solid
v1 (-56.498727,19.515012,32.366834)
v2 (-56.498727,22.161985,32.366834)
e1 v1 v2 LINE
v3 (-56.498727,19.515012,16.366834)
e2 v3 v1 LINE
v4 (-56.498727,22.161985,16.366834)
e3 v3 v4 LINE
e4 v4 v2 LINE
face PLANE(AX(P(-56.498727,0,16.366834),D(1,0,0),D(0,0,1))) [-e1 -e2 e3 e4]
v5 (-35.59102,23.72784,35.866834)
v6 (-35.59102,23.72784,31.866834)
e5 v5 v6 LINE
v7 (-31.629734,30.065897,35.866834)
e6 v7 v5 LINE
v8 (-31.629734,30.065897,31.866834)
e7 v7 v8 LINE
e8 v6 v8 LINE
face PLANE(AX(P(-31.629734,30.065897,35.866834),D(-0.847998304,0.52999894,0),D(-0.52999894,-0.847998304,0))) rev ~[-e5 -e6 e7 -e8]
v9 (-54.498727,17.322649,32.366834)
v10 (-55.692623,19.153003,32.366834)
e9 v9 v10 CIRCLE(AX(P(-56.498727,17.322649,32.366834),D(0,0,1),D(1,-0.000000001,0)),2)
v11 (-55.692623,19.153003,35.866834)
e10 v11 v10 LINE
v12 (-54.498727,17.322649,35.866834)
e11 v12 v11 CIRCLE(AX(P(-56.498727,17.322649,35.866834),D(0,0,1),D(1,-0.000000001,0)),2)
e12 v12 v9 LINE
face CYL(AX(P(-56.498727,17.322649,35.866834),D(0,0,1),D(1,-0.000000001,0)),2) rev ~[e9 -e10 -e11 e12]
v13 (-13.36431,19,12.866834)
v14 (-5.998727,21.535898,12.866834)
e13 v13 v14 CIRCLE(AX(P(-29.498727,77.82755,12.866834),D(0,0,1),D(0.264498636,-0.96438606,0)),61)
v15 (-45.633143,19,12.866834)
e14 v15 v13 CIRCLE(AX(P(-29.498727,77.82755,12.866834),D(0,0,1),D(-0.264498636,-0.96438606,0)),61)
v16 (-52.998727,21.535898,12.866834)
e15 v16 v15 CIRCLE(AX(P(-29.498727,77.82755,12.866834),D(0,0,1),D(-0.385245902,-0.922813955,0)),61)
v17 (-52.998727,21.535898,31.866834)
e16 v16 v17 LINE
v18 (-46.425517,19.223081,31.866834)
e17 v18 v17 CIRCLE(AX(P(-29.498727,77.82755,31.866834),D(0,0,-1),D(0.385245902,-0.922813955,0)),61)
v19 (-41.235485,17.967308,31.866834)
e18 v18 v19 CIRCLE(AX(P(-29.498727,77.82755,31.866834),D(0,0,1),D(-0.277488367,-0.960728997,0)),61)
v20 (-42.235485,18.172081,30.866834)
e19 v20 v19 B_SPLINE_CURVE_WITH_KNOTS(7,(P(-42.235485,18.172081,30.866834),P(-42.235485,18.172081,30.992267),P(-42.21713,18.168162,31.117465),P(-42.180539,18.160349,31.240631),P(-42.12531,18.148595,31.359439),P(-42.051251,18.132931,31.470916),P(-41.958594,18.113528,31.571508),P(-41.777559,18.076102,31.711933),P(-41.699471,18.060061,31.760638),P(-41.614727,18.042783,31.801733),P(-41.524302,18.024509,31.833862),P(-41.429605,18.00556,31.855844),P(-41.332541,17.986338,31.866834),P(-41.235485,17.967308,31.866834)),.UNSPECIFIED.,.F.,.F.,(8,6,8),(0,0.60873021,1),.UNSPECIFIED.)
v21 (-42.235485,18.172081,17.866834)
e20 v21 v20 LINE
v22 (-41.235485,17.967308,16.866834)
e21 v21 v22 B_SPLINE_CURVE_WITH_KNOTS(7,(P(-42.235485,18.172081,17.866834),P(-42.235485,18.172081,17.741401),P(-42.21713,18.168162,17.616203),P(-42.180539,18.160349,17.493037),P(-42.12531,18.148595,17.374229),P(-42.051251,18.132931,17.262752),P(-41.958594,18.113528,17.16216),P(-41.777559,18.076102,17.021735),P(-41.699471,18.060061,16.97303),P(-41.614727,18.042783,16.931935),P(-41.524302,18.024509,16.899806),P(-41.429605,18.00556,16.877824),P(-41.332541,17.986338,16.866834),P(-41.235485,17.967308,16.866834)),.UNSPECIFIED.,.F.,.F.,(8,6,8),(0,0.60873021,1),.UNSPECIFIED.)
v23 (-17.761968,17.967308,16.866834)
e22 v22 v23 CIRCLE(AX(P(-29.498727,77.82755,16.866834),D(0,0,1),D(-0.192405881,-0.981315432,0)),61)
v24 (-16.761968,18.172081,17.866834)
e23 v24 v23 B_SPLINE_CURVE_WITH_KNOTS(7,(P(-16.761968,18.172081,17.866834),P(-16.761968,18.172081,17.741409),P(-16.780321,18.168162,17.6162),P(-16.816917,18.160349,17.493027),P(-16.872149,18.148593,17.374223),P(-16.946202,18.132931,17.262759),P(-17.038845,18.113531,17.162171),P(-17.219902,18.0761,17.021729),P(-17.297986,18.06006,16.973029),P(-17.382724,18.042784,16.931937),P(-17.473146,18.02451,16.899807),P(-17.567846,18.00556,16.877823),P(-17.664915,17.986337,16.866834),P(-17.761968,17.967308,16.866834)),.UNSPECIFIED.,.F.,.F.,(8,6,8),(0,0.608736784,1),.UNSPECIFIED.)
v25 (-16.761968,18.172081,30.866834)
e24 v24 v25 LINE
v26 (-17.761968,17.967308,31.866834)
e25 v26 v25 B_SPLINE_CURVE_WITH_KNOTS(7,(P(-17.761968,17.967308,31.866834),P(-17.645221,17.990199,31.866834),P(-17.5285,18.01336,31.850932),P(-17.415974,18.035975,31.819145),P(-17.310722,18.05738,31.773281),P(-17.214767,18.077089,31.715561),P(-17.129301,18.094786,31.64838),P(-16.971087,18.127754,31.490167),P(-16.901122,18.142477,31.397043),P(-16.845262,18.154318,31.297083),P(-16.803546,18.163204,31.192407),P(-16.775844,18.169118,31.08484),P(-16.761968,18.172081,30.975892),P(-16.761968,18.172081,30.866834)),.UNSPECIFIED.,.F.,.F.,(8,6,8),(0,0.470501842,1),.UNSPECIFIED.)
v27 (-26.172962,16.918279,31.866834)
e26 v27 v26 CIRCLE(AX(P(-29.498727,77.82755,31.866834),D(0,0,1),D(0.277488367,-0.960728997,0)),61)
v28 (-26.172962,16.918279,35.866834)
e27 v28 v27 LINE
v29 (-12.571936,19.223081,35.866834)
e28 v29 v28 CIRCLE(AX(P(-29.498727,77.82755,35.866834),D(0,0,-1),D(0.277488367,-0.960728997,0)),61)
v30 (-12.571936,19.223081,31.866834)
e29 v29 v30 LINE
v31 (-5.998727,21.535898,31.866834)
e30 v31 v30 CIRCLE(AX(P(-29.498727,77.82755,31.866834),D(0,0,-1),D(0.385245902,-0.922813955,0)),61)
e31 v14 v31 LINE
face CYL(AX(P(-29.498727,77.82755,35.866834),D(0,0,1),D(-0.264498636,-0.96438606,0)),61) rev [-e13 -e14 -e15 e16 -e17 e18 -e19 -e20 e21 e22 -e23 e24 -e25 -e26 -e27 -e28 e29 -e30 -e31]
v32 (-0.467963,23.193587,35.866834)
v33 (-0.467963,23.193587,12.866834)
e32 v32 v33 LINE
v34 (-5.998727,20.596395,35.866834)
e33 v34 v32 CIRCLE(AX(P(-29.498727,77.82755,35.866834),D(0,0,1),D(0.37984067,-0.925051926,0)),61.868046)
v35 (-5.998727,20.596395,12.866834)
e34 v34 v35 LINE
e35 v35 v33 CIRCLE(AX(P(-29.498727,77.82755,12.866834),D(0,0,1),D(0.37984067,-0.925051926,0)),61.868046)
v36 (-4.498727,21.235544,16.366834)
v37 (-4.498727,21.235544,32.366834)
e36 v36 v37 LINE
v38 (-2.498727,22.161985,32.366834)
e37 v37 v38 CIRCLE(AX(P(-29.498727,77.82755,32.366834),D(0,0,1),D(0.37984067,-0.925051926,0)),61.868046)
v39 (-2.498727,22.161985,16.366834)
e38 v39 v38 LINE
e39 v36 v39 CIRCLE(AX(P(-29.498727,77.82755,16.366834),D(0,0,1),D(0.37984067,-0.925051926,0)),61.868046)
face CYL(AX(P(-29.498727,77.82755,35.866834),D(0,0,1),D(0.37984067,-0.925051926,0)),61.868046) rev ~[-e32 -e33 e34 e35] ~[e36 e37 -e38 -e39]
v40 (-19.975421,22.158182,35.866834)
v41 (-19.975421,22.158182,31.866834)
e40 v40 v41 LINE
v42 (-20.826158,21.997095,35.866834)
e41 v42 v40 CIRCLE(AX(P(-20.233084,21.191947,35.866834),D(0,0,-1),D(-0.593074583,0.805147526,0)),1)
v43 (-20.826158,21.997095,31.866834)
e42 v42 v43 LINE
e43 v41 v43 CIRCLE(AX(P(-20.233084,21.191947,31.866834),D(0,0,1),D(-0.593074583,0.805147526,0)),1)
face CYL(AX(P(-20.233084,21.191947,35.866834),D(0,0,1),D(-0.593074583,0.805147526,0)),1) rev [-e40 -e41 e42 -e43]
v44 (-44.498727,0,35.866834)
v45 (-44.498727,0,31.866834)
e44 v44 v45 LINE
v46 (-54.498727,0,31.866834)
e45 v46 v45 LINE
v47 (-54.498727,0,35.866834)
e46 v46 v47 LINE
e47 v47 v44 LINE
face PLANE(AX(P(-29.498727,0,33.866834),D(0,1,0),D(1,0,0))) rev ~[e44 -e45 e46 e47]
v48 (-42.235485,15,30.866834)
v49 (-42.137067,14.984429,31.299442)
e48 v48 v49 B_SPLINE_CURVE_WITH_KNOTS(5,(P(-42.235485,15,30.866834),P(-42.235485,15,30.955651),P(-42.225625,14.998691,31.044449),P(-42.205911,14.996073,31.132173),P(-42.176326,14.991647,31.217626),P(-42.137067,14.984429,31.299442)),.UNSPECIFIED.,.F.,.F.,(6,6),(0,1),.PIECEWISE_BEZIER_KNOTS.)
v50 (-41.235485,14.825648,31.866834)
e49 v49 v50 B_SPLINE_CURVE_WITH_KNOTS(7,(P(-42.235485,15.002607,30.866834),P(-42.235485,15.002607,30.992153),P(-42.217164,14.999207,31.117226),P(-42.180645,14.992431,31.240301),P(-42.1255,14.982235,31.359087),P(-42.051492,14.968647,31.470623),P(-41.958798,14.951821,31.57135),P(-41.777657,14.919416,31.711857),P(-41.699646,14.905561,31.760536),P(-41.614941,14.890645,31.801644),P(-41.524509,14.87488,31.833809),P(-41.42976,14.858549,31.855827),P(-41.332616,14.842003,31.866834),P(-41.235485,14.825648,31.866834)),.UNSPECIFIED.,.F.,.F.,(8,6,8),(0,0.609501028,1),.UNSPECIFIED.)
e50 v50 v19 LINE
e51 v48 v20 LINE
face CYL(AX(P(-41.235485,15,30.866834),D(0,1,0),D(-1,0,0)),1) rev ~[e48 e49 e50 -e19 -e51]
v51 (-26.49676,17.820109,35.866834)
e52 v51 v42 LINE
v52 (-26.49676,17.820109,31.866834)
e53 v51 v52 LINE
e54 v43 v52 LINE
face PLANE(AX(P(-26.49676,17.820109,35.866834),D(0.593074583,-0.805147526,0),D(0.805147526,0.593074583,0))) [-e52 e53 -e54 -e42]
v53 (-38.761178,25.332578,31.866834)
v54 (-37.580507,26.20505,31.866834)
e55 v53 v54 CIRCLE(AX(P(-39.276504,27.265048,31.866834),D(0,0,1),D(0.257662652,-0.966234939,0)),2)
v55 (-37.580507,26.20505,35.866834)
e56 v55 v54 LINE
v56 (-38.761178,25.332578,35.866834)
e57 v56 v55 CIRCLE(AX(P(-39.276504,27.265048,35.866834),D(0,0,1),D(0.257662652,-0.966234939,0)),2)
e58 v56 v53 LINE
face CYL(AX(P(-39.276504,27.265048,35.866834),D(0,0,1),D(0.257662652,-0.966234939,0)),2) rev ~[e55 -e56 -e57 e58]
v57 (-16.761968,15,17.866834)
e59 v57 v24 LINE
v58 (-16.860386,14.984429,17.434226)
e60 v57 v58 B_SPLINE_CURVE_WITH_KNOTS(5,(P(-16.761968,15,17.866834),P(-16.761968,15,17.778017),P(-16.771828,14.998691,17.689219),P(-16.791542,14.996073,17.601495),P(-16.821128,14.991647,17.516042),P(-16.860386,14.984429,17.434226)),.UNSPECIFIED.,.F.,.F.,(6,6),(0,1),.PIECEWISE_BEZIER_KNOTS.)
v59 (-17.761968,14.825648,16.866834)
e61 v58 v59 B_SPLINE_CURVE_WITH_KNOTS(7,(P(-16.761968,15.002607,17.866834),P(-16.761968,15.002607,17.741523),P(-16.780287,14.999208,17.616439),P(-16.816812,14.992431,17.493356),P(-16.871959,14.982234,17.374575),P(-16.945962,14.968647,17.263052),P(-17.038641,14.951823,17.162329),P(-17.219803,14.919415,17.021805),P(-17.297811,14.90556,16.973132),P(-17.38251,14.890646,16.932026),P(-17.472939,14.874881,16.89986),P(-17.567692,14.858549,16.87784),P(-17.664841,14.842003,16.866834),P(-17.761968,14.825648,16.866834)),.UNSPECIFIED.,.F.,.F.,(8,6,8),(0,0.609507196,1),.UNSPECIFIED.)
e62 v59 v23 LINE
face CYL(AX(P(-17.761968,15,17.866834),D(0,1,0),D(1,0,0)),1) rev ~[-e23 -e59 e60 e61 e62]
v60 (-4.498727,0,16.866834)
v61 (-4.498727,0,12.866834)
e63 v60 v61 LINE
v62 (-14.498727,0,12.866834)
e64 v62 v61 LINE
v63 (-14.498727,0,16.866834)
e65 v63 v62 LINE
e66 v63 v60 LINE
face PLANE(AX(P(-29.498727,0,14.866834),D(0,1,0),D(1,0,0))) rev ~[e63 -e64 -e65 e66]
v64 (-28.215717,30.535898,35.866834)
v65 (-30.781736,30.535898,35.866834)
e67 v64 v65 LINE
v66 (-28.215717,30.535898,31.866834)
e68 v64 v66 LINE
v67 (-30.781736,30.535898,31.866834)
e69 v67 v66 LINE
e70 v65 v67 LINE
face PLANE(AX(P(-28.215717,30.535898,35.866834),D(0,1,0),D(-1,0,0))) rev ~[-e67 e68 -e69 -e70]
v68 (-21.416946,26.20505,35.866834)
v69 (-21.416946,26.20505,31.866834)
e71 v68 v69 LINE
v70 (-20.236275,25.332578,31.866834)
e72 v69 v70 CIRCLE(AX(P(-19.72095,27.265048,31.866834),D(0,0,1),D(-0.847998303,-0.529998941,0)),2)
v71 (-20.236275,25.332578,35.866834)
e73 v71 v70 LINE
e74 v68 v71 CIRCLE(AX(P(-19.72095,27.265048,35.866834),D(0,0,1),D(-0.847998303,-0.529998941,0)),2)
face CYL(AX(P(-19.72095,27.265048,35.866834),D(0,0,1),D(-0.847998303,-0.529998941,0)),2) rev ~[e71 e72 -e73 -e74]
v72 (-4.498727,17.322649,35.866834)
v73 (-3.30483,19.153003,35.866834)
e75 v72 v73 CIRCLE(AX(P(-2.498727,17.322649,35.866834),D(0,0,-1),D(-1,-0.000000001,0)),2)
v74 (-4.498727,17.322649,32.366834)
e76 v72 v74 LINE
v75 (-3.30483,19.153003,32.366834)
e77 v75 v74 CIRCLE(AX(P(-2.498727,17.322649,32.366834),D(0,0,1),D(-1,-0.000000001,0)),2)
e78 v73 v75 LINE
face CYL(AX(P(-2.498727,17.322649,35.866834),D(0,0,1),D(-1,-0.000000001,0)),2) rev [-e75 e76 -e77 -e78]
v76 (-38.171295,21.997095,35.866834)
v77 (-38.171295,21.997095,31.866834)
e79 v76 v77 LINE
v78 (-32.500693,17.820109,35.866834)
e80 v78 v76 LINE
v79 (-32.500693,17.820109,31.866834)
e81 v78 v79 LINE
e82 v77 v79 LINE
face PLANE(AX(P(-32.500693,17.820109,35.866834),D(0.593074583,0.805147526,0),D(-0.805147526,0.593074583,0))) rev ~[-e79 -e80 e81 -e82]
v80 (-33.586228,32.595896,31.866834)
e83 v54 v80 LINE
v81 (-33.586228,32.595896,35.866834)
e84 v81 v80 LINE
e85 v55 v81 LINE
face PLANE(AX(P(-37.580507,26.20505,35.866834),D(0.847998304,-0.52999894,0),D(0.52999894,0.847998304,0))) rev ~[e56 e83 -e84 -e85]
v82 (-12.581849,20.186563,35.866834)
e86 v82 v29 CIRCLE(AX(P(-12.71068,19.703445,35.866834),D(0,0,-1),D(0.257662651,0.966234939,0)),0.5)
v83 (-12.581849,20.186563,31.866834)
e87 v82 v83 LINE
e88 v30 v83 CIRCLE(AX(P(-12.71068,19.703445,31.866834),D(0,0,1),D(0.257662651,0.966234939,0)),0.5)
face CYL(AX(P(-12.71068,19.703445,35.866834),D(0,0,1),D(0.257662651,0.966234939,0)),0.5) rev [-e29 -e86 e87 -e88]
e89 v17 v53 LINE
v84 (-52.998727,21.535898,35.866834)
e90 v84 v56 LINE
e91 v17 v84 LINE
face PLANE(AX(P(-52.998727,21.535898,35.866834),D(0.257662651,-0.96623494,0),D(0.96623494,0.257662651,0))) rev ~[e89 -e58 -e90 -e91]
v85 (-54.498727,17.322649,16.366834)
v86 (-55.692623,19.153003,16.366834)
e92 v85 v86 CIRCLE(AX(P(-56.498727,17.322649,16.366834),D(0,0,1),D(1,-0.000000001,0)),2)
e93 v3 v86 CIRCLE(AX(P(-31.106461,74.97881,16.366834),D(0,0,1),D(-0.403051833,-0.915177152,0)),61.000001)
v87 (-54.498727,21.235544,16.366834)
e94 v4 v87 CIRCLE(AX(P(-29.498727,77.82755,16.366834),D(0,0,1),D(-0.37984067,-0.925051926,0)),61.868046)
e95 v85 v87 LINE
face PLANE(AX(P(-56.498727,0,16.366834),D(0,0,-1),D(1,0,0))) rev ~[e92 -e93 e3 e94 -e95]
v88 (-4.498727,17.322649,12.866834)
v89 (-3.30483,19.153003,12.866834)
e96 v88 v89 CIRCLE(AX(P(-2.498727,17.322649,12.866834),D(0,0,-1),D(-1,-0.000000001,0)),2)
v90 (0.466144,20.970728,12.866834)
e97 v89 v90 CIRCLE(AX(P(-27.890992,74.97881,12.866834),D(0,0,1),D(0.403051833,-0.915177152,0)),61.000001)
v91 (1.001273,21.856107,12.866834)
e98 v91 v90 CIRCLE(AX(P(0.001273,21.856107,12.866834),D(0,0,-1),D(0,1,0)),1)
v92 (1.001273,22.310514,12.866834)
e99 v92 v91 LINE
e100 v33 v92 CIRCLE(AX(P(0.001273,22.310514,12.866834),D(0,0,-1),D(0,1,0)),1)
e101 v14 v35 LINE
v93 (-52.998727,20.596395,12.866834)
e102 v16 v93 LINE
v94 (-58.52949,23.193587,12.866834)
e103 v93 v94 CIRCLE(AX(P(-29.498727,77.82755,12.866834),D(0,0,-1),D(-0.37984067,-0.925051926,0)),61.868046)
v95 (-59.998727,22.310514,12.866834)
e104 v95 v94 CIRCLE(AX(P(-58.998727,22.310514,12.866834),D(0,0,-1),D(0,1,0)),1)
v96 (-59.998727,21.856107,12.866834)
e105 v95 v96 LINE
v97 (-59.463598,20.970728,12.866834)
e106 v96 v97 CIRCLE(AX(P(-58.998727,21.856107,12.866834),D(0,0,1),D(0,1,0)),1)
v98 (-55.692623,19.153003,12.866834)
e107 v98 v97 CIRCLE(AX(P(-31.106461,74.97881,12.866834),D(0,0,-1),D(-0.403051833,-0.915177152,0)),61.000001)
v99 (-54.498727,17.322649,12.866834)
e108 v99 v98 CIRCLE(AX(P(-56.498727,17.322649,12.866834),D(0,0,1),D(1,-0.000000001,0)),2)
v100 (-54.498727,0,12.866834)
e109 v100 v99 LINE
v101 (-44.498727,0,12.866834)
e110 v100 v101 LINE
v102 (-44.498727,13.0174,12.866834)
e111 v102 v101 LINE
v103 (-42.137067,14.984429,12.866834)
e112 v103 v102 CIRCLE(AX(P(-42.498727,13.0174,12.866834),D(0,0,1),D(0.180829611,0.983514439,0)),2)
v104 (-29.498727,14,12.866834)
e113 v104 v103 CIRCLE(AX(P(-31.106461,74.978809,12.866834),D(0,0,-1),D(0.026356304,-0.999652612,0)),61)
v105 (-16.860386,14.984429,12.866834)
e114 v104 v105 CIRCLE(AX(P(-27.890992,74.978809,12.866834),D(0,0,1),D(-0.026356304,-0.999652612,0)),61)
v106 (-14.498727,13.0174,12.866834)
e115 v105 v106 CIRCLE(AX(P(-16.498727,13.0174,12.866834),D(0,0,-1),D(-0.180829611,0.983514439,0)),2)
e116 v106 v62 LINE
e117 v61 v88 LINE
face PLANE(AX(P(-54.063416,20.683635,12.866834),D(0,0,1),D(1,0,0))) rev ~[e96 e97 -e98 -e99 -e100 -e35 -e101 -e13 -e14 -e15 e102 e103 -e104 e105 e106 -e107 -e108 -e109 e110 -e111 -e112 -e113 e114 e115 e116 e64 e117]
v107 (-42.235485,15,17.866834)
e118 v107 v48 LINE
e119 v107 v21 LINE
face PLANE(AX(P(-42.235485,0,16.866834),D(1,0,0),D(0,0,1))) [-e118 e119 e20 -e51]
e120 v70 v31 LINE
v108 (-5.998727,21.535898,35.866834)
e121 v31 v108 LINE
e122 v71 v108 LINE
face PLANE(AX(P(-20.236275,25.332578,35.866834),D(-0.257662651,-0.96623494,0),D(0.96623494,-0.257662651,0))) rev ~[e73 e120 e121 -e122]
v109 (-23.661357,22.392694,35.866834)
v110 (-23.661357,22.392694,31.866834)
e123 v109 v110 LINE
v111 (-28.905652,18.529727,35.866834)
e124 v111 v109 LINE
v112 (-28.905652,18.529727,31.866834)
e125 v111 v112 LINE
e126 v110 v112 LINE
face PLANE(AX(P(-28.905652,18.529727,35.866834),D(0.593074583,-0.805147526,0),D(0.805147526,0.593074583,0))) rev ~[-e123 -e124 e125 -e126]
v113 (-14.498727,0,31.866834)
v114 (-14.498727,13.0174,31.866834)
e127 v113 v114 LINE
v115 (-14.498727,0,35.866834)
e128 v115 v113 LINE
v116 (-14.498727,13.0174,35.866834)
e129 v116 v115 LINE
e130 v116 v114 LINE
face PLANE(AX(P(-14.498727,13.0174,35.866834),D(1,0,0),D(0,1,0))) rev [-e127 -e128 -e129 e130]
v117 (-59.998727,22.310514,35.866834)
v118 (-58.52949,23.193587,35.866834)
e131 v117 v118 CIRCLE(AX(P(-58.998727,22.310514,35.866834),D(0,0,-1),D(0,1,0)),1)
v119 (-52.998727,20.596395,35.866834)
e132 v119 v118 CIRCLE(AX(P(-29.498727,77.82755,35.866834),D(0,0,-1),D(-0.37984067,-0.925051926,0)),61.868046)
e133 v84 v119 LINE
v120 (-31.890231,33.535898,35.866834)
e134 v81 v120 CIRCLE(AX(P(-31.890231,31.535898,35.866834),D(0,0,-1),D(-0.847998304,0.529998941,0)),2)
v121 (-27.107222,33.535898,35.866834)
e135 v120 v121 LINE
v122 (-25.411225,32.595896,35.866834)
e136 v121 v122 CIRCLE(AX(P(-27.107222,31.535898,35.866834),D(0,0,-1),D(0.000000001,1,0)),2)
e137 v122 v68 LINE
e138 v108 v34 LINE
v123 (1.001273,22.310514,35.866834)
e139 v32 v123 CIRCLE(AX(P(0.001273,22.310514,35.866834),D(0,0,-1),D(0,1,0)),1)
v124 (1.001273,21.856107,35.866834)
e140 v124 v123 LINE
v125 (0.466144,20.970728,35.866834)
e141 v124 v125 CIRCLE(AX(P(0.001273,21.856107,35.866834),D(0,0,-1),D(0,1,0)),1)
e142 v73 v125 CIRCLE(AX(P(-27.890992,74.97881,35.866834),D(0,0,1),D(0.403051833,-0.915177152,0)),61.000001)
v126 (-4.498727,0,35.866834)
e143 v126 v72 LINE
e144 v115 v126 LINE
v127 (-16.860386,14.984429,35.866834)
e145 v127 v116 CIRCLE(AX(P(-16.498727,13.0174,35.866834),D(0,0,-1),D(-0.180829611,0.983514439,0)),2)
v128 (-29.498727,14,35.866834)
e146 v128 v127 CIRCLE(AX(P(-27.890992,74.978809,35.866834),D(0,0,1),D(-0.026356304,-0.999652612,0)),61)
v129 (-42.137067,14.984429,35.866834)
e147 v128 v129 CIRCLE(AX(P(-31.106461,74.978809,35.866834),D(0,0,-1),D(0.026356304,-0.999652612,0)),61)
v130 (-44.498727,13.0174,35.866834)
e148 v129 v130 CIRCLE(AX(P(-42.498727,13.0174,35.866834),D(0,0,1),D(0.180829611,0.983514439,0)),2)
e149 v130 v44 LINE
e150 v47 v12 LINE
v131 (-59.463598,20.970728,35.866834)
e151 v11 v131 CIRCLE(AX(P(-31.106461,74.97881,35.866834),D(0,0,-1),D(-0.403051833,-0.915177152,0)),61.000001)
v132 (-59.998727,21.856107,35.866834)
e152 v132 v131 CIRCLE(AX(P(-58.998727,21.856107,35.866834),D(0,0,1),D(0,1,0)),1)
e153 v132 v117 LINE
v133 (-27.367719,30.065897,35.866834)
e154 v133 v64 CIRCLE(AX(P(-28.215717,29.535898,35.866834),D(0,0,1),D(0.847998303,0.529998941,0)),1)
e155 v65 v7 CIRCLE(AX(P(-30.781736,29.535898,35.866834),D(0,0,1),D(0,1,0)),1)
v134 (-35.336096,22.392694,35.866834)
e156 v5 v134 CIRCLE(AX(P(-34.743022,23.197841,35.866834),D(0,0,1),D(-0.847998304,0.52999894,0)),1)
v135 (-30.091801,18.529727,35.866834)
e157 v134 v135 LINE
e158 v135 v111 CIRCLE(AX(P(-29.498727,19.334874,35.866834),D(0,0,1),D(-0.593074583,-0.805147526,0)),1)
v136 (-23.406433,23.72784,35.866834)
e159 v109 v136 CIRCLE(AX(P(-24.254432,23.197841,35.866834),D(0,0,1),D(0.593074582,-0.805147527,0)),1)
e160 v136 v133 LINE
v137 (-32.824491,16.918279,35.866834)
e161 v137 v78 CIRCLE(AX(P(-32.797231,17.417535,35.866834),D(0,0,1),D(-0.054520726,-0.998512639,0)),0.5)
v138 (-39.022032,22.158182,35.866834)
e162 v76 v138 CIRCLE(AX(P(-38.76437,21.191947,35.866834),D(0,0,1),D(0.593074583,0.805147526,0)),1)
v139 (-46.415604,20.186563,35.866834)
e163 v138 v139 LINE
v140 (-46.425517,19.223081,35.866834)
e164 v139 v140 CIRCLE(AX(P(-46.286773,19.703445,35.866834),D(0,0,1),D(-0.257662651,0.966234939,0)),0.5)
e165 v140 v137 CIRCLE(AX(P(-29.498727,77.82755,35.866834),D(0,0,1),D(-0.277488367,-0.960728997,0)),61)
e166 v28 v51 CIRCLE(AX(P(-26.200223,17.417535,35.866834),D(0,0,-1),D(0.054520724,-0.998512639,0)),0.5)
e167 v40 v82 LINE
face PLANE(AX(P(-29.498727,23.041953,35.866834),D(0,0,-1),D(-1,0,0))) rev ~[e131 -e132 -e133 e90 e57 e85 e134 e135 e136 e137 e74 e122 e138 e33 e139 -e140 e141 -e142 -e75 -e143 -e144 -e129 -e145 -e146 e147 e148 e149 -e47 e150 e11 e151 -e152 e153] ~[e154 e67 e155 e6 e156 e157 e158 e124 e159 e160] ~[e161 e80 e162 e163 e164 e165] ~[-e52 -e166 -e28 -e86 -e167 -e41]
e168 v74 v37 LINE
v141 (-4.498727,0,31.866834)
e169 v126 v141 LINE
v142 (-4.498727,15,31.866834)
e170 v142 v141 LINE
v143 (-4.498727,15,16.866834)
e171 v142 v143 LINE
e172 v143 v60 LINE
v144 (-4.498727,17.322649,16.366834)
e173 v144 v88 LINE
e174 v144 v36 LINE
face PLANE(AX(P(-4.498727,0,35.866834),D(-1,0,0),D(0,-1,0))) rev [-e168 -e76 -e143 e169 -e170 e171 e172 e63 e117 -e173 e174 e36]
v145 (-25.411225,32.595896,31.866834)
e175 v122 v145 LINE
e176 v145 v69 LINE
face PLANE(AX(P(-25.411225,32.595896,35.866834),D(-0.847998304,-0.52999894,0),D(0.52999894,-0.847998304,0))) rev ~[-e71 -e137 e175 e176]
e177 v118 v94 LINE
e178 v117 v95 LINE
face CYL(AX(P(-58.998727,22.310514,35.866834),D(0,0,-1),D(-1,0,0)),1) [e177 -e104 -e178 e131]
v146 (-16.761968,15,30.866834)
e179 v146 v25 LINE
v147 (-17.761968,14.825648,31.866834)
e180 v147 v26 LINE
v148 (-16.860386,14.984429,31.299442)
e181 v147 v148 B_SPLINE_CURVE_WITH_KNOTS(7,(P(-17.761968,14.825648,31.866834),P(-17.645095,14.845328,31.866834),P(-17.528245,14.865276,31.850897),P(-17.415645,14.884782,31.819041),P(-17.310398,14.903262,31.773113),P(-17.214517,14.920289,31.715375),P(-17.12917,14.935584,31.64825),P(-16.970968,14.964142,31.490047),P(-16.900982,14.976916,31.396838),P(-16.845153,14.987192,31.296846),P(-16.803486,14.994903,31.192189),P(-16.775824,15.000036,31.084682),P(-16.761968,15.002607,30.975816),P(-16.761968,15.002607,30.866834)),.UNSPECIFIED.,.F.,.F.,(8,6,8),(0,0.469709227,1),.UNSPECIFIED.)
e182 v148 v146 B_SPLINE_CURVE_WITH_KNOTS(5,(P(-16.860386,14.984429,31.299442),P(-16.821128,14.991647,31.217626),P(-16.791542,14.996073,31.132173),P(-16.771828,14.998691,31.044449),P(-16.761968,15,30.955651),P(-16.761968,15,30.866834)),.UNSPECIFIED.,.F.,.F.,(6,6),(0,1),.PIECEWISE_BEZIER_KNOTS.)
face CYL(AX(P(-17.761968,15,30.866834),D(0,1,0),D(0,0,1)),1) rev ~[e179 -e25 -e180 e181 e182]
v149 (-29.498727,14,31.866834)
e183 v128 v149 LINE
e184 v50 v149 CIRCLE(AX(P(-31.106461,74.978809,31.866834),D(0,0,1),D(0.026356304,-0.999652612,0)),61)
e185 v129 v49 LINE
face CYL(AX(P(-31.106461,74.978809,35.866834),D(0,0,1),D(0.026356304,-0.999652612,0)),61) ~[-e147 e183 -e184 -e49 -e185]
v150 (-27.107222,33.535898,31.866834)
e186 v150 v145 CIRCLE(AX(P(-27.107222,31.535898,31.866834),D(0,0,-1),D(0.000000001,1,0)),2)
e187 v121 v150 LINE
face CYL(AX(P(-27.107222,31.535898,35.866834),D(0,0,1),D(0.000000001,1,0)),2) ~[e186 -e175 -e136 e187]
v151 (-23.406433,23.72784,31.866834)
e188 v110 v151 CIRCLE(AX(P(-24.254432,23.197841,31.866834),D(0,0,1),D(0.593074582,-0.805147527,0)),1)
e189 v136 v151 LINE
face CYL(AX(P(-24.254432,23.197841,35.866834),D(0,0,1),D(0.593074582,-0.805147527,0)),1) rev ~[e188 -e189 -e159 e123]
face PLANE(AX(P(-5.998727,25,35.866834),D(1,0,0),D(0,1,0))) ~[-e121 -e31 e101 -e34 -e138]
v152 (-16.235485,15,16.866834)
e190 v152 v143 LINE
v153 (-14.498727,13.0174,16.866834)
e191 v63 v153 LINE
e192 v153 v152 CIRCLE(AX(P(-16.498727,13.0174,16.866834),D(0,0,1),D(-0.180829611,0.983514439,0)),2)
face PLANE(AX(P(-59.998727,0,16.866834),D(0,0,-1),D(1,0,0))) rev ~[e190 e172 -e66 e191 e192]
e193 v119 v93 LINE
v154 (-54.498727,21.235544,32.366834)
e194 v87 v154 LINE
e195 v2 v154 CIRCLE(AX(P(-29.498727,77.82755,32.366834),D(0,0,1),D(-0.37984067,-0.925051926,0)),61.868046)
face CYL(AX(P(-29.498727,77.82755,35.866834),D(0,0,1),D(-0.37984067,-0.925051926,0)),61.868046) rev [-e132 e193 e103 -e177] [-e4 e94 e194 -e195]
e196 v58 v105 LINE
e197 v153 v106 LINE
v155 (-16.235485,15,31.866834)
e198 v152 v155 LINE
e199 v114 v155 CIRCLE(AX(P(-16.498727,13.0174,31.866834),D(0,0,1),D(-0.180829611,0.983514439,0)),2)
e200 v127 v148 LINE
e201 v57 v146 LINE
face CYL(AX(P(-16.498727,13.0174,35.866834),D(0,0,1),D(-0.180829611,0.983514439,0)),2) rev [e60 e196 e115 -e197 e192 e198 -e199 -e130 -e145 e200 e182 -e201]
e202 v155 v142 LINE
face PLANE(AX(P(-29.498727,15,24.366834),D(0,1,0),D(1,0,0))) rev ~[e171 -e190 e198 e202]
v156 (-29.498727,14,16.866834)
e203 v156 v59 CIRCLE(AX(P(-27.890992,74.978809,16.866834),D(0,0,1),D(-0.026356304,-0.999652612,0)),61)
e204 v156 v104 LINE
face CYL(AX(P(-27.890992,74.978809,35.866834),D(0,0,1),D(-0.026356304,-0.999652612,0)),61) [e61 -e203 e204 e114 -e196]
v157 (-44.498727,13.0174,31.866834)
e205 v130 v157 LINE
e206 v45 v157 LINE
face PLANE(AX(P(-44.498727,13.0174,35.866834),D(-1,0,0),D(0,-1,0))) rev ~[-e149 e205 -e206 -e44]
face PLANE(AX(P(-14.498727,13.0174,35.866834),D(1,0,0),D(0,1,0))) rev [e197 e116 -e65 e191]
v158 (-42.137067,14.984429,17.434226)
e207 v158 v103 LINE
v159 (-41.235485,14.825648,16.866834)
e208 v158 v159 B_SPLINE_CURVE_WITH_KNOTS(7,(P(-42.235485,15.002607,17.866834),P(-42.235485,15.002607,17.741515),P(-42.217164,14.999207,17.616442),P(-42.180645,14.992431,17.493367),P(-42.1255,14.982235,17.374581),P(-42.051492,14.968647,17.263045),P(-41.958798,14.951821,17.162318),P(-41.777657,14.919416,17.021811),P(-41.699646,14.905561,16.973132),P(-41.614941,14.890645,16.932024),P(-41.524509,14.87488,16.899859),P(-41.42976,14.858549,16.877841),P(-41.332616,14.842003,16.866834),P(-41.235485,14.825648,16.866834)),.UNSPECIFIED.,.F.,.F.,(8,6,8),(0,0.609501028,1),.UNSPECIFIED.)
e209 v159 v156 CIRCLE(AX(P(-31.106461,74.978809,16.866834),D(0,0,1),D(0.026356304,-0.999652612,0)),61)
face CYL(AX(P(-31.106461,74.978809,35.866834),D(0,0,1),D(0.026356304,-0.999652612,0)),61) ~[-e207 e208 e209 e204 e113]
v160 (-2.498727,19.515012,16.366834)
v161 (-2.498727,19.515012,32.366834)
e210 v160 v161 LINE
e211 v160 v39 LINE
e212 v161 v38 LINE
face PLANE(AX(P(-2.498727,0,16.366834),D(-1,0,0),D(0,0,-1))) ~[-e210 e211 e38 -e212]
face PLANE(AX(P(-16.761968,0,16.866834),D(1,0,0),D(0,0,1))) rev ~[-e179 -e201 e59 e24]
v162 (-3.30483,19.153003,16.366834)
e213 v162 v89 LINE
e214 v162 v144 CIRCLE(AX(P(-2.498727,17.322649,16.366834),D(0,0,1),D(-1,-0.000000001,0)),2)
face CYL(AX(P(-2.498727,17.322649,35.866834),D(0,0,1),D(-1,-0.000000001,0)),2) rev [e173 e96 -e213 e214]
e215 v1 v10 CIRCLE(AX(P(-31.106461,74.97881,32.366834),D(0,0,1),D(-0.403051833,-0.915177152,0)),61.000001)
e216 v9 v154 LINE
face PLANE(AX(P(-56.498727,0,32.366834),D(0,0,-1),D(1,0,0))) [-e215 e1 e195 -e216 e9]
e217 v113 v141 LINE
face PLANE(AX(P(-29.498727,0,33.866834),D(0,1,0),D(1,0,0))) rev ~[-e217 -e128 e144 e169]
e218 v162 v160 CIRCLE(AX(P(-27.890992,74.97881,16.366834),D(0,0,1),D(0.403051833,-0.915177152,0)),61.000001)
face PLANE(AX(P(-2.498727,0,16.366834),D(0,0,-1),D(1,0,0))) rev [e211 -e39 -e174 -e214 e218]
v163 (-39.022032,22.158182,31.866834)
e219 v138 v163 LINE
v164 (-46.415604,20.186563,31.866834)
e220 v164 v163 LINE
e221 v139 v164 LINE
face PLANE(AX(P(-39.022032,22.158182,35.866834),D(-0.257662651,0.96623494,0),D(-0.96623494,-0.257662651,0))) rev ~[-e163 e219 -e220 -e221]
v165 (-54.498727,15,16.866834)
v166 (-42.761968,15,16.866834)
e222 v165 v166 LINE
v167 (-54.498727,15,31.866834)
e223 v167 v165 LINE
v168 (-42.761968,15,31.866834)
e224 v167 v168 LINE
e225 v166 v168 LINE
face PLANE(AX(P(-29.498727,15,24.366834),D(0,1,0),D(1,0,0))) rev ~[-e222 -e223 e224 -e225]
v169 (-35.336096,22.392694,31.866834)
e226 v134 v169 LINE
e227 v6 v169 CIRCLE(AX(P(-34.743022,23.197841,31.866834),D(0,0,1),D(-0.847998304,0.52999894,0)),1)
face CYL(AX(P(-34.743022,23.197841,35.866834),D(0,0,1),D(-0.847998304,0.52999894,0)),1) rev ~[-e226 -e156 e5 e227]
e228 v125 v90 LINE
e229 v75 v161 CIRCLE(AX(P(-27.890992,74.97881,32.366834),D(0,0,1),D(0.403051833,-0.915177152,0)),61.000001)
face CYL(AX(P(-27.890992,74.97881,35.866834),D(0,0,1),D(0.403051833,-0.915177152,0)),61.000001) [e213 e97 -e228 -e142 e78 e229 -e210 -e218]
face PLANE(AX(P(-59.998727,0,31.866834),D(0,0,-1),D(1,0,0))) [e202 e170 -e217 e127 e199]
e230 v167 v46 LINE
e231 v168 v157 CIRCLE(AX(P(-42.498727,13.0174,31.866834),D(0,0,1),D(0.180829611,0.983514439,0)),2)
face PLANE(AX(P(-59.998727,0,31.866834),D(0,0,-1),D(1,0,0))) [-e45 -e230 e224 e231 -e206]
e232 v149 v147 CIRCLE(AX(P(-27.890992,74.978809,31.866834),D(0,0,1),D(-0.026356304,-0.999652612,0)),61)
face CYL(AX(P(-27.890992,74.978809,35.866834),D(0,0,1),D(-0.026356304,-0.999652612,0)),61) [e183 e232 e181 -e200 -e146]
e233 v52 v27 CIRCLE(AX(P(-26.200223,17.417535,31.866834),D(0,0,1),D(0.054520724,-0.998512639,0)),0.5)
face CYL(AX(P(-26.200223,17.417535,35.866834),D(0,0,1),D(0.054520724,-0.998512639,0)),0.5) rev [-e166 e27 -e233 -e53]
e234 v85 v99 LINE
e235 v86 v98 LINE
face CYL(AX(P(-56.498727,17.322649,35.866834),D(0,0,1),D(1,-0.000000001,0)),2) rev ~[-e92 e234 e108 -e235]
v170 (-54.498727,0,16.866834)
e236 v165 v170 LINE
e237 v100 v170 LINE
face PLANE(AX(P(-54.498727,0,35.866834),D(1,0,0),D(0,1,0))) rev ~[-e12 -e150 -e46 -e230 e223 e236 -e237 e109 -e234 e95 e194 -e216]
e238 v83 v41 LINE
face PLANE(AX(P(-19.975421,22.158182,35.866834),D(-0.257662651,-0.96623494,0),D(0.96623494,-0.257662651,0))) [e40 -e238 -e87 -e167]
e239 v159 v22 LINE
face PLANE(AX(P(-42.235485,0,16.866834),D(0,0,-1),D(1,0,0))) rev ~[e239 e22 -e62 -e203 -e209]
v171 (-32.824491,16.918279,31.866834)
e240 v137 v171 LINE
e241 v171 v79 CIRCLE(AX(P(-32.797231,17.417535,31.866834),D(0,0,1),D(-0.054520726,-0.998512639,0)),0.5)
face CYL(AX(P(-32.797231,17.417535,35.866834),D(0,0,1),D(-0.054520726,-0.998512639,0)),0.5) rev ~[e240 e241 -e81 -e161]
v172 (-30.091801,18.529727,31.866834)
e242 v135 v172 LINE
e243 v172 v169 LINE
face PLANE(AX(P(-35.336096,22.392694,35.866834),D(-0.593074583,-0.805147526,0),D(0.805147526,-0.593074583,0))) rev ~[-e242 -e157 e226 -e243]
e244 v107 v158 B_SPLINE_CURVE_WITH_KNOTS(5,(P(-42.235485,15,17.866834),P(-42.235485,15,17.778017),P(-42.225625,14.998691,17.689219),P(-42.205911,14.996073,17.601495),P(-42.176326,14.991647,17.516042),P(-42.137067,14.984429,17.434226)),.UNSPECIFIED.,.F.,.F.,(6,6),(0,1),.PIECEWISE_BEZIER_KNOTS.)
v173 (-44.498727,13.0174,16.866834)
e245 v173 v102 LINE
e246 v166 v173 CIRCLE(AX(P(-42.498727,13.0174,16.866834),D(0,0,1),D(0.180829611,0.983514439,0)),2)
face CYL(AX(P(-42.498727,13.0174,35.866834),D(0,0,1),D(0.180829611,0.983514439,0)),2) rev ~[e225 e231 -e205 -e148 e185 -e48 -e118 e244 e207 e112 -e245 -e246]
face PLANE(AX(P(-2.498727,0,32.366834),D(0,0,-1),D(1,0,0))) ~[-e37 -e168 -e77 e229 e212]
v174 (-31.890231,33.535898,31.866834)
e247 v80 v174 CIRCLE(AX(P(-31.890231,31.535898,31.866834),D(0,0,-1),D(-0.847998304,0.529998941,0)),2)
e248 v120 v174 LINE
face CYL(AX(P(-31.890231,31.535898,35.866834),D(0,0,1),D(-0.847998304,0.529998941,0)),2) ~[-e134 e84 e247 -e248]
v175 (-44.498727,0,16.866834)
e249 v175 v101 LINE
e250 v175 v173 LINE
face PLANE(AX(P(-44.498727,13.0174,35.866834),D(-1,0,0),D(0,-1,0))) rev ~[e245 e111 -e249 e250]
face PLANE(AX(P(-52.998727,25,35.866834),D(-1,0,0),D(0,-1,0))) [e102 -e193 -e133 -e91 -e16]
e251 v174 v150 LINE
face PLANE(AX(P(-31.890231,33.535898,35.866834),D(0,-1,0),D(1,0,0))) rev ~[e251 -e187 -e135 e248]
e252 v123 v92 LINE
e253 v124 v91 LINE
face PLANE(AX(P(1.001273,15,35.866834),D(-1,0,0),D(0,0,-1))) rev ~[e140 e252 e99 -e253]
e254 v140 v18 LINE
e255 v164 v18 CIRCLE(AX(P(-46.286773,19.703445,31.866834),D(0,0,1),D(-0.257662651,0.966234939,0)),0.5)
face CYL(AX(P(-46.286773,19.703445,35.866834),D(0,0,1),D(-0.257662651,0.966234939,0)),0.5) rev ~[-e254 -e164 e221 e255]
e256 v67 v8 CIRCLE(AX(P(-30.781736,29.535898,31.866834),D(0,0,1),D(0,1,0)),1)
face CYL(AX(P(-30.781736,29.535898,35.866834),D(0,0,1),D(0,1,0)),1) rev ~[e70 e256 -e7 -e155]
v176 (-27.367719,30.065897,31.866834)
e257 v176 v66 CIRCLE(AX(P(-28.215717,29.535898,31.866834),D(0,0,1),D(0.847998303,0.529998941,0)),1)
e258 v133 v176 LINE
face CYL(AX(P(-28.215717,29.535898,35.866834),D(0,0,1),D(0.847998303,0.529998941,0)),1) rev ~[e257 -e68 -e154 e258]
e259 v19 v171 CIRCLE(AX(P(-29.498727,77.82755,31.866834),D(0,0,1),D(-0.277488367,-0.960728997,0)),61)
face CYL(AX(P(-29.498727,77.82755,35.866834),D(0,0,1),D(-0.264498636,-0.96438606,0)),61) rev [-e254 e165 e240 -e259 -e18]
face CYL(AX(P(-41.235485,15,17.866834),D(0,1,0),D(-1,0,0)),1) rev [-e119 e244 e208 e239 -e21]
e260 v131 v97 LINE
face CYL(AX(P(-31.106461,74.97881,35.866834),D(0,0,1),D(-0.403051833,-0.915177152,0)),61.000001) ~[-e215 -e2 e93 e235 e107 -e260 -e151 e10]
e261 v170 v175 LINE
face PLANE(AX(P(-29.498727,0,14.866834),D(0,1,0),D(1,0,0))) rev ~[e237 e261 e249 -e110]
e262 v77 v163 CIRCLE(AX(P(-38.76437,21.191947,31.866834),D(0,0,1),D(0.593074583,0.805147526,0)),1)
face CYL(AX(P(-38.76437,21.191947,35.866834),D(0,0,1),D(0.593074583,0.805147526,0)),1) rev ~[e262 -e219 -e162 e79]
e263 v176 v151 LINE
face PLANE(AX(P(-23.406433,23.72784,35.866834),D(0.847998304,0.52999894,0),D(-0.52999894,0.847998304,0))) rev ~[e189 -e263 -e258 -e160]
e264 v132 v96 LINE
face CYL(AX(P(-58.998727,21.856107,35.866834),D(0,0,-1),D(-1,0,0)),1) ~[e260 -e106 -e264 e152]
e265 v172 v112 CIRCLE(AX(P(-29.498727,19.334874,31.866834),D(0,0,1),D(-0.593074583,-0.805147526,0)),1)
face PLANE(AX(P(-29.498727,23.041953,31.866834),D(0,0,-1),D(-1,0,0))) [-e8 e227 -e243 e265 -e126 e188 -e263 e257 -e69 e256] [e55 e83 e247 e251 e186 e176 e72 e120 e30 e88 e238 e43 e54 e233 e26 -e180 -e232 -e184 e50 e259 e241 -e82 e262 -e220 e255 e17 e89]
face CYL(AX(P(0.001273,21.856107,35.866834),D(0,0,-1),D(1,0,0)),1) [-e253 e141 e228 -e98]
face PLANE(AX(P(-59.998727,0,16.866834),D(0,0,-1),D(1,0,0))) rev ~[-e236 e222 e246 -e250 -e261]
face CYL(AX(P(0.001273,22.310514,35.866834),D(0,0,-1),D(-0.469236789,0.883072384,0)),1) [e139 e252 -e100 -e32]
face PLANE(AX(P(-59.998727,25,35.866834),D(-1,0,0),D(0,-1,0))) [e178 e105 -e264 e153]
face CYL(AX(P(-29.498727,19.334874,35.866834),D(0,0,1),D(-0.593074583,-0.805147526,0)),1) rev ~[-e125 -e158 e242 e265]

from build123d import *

# Parameters (mm, degrees)
SKETCH_1_W          = 61
SKETCH_1_H          = 4
EXTRUDE_1_DEPTH     = 15
EXTRUDE_1_2_DEPTH   = 15
SKETCH_2_W          = 61
SKETCH_2_H          = 23
EXTRUDE_2_DEPTH     = 4
EXTRUDE_3_DEPTH     = 23
CUT_EXTRUDE_1_DEPTH = 23
CUT_EXTRUDE_2_DEPTH = 23
CUT_EXTRUDE_3_DEPTH = 23
FILLET_1_R          = 1
SKETCH_9_W          = 2
SKETCH_9_H          = 16
CUT_EXTRUDE_4_DEPTH = 40
FILLET_2_R          = 1
SKETCH_10_W         = 25.473517425
SKETCH_10_H         = 15
CUT_EXTRUDE_5_DEPTH = 40
FILLET_3_R          = 1
EXTRUDE_4_DEPTH     = 4
CUT_EXTRUDE_6_DEPTH = 40


with BuildPart() as part:
    # 草图1 → 凸台-拉伸1 (new body)
    with BuildSketch(Plane(origin=(0, 0, 0), x_dir=(1, 0, 0), z_dir=(0, 1, 0))):
        with Locations((-29.49872666, -14.866833958)):
            Rectangle(SKETCH_1_W, SKETCH_1_H)
    extrude(amount=EXTRUDE_1_DEPTH)



with BuildPart() as body_2:
    # 草图1 → Extrude 1 2 (new body)
    with BuildSketch(Plane(origin=(0, 0, 0), x_dir=(1, 0, 0), z_dir=(0, 1, 0))):
        with Locations((-29.49872666, -33.866833958)):
            Rectangle(SKETCH_1_W, SKETCH_1_H)
    extrude(amount=EXTRUDE_1_2_DEPTH)


with BuildPart() as part_1:
    add(part.part)

    add(body_2.part)  # 凸台-拉伸2 merges body 2
    # 草图2 → 凸台-拉伸2 (add)
    with BuildSketch(Plane(origin=(0, 15, 0), x_dir=(1, 0, 0), z_dir=(0, 1, 0))):
        with Locations((-29.49872666, -24.366833958)):
            Rectangle(SKETCH_2_W, SKETCH_2_H)
    extrude(amount=EXTRUDE_2_DEPTH)

    # 草图3 → 凸台-拉伸3 (add)
    with BuildSketch(Plane.XY.offset(35.866833958)):
        with BuildLine():
            Line((-59.99872666, 25), (-59.99872666, 19))
            Line((-59.99872666, 19), (-45.633143428, 19))
            ThreePointArc((-45.633143428, 19), (-53.008133433, 21.539826341), (-59.99872666, 25))
        make_face()
        with BuildLine():
            ThreePointArc((1.00127334, 25), (-5.989319887, 21.539826341), (-13.364309893, 19))
            Line((-13.364309893, 19), (1.00127334, 19))
            Line((1.00127334, 19), (1.00127334, 25))
        make_face()
    extrude(amount=-EXTRUDE_3_DEPTH)

    # 草图4 → 切除-拉伸1 (cut)
    with BuildSketch(Plane.XY.offset(35.866833958)):
        with BuildLine():
            Line((-59.99872666, 25), (1.00127334, 25))
            ThreePointArc((1.00127334, 25), (-29.49872666, 16.827549631), (-59.99872666, 25))
        make_face()
    extrude(amount=-CUT_EXTRUDE_1_DEPTH, mode=Mode.SUBTRACT)

    # 草图7 → 切除-拉伸2 (cut)
    with BuildSketch(Plane.XY.offset(35.866833958)):
        with BuildLine():
            Line((-44.49872666, 0), (-29.49872666, 0))
            Line((-29.49872666, 0), (-29.49872666, 14))
            ThreePointArc((-29.49872666, 14), (-35.843538639, 14.163021123), (-42.13706744, 14.984428559))
            ThreePointArc((-42.13706744, 14.984428559), (-43.778703527, 14.554168766), (-44.49872666, 13.017399681))
            Line((-44.49872666, 13.017399681), (-44.49872666, 0))
        make_face()
        with BuildLine():
            Line((-54.49872666, 0), (-54.49872666, 17.322648745))
            ThreePointArc((-54.49872666, 17.322648745), (-54.823583781, 18.41530438), (-55.692622995, 19.15300305))
            ThreePointArc((-55.692622995, 19.15300305), (-57.866323827, 20.161752214), (-59.99872666, 21.255099523))
            Line((-59.99872666, 21.255099523), (-59.99872666, 0))
            Line((-59.99872666, 0), (-54.49872666, 0))
        make_face()
    cut_extrude_2 = extrude(amount=-CUT_EXTRUDE_2_DEPTH, mode=Mode.SUBTRACT)

    # 草图8 → 切除-拉伸3 (cut)
    with BuildSketch(Plane.XY.offset(35.866833958)):
        with BuildLine():
            Line((-59.99872666, 24), (-59.99872666, 25))
            Line((-59.99872666, 25), (-52.99872666, 25))
            Line((-52.99872666, 25), (-52.99872666, 20.59639466))
            ThreePointArc((-52.99872666, 20.59639466), (-56.552305579, 22.188004639), (-59.99872666, 24))
        make_face()
    cut_extrude_3 = extrude(amount=-CUT_EXTRUDE_3_DEPTH, mode=Mode.SUBTRACT)

    # 圆角1
    fillet_1_edges = [part_1.edges().sort_by_distance(p)[0] for p in [
        (-59.99872666, 21.255099523, 24.366833958),
        (-59.99872666, 24, 24.366833958),
    ]]
    fillet(fillet_1_edges, radius=FILLET_1_R)

    # 草图9 → 切除-拉伸4 (cut)
    with BuildSketch(Plane.XZ):
        with Locations((-55.49872666, 24.366833958)):
            Rectangle(SKETCH_9_W, SKETCH_9_H)
    cut_extrude_4 = extrude(amount=-CUT_EXTRUDE_4_DEPTH, mode=Mode.SUBTRACT)

    # 镜向3: 切除-拉伸2 across plane
    add(cut_extrude_2.mirror(Plane.ZY.offset(29.49872666)), mode=Mode.SUBTRACT)

    # 镜向4: 切除-拉伸3 across plane
    add(cut_extrude_3.mirror(Plane.ZY.offset(29.49872666)), mode=Mode.SUBTRACT)

    # 圆角2
    fillet_2_edges = [part_1.edges().sort_by_distance(p)[0] for p in [
        (1.00127334, 21.255099523, 24.366833958),
        (1.00127334, 24, 24.366833958),
    ]]
    fillet(fillet_2_edges, radius=FILLET_2_R)

    # 镜向7: 切除-拉伸4 across plane
    add(cut_extrude_4.mirror(Plane.ZY.offset(29.49872666)), mode=Mode.SUBTRACT)

    # 草图10 → 切除-拉伸5 (cut)
    with BuildSketch(Plane.XZ):
        with Locations((-29.498726661, 24.366833958)):
            Rectangle(SKETCH_10_W, SKETCH_10_H)
    extrude(amount=-CUT_EXTRUDE_5_DEPTH, mode=Mode.SUBTRACT)

    # 圆角3
    fillet_3_edges = [part_1.edges().sort_by_distance(p)[0] for p in [
        (-16.761967948, 16.586040333, 16.866833958),
        (-42.235485373, 16.586040333, 16.866833958),
        (-42.235485373, 16.586040333, 31.866833958),
        (-16.761967948, 16.586040333, 31.866833958),
    ]]
    fillet(fillet_3_edges, radius=FILLET_3_R)

    # 草图11 → 凸台-拉伸4 (add)
    with BuildSketch(Plane.XY.offset(35.866833958)):
        with BuildLine():
            Line((-52.99872666, 21.535898385), (-38.761178229, 25.332577966))
            ThreePointArc((-38.761178229, 25.332577966), (-38.087895944, 25.656566573), (-37.580506922, 26.205049966))
            Line((-37.580506922, 26.205049966), (-33.586227985, 32.595896265))
            ThreePointArc((-33.586227985, 32.595896265), (-32.859768442, 33.285183347), (-31.890231377, 33.535898385))
            Line((-31.890231377, 33.535898385), (-27.107221943, 33.535898385))
            ThreePointArc((-27.107221943, 33.535898385), (-26.137684878, 33.285183347), (-25.411225335, 32.595896265))
            Line((-25.411225335, 32.595896265), (-21.416946398, 26.205049966))
            ThreePointArc((-21.416946398, 26.205049966), (-20.909557376, 25.656566573), (-20.236275091, 25.332577966))
            Line((-20.236275091, 25.332577966), (-5.99872666, 21.535898385))
            ThreePointArc((-5.99872666, 21.535898385), (-29.49872666, 16.827549631), (-52.99872666, 21.535898385))
        make_face()
    extrude(amount=-EXTRUDE_4_DEPTH)

    # 草图13 → 切除-拉伸6 (cut)
    with BuildSketch(Plane.XY.offset(35.866833958)):
        with BuildLine():
            Line((-31.629734398, 30.065897325), (-35.591020119, 23.727840171))
            ThreePointArc((-35.591020119, 23.727840171), (-35.725277784, 23.010296005), (-35.336096399, 22.392693705))
            Line((-35.336096399, 22.392693705), (-30.091801244, 18.529726902))
            ThreePointArc((-30.091801244, 18.529726902), (-29.49872666, 18.334874428), (-28.905652077, 18.529726902))
            Line((-28.905652077, 18.529726902), (-23.661356922, 22.392693705))
            ThreePointArc((-23.661356922, 22.392693705), (-23.272175536, 23.010296005), (-23.406433201, 23.727840171))
            Line((-23.406433201, 23.727840171), (-27.367718922, 30.065897325))
            ThreePointArc((-27.367718922, 30.065897325), (-27.730948694, 30.410540866), (-28.215717226, 30.535898385))
            Line((-28.215717226, 30.535898385), (-30.781736094, 30.535898385))
            ThreePointArc((-30.781736094, 30.535898385), (-31.266504627, 30.410540866), (-31.629734398, 30.065897325))
        make_face()
        with BuildLine():
            Line((-39.022032341, 22.158181931), (-46.415604198, 20.186562769))
            ThreePointArc((-46.415604198, 20.186562769), (-46.786746411, 19.708589315), (-46.425517056, 19.2230808))
            ThreePointArc((-46.425517056, 19.2230808), (-39.690366454, 17.684965064), (-32.824491011, 16.918278649))
            ThreePointArc((-32.824491011, 16.918278649), (-32.326643896, 17.248573111), (-32.500693355, 17.820108732))
            Line((-32.500693355, 17.820108732), (-38.171295107, 21.997094517))
            ThreePointArc((-38.171295107, 21.997094517), (-38.578325126, 22.174488298), (-39.022032341, 22.158181931))
        make_face()
        with BuildLine():
            Line((-19.97542098, 22.158181931), (-12.581849122, 20.186562769))
            ThreePointArc((-12.581849122, 20.186562769), (-12.210706909, 19.708589315), (-12.571936264, 19.2230808))
            ThreePointArc((-12.571936264, 19.2230808), (-19.307086867, 17.684965064), (-26.17296231, 16.918278649))
            ThreePointArc((-26.17296231, 16.918278649), (-26.670809424, 17.248573111), (-26.496759965, 17.820108732))
            Line((-26.496759965, 17.820108732), (-20.826158214, 21.997094517))
            ThreePointArc((-20.826158214, 21.997094517), (-20.419128195, 22.174488298), (-19.97542098, 22.158181931))
        make_face()
    extrude(amount=-CUT_EXTRUDE_6_DEPTH, mode=Mode.SUBTRACT)


solid = part_1.part
